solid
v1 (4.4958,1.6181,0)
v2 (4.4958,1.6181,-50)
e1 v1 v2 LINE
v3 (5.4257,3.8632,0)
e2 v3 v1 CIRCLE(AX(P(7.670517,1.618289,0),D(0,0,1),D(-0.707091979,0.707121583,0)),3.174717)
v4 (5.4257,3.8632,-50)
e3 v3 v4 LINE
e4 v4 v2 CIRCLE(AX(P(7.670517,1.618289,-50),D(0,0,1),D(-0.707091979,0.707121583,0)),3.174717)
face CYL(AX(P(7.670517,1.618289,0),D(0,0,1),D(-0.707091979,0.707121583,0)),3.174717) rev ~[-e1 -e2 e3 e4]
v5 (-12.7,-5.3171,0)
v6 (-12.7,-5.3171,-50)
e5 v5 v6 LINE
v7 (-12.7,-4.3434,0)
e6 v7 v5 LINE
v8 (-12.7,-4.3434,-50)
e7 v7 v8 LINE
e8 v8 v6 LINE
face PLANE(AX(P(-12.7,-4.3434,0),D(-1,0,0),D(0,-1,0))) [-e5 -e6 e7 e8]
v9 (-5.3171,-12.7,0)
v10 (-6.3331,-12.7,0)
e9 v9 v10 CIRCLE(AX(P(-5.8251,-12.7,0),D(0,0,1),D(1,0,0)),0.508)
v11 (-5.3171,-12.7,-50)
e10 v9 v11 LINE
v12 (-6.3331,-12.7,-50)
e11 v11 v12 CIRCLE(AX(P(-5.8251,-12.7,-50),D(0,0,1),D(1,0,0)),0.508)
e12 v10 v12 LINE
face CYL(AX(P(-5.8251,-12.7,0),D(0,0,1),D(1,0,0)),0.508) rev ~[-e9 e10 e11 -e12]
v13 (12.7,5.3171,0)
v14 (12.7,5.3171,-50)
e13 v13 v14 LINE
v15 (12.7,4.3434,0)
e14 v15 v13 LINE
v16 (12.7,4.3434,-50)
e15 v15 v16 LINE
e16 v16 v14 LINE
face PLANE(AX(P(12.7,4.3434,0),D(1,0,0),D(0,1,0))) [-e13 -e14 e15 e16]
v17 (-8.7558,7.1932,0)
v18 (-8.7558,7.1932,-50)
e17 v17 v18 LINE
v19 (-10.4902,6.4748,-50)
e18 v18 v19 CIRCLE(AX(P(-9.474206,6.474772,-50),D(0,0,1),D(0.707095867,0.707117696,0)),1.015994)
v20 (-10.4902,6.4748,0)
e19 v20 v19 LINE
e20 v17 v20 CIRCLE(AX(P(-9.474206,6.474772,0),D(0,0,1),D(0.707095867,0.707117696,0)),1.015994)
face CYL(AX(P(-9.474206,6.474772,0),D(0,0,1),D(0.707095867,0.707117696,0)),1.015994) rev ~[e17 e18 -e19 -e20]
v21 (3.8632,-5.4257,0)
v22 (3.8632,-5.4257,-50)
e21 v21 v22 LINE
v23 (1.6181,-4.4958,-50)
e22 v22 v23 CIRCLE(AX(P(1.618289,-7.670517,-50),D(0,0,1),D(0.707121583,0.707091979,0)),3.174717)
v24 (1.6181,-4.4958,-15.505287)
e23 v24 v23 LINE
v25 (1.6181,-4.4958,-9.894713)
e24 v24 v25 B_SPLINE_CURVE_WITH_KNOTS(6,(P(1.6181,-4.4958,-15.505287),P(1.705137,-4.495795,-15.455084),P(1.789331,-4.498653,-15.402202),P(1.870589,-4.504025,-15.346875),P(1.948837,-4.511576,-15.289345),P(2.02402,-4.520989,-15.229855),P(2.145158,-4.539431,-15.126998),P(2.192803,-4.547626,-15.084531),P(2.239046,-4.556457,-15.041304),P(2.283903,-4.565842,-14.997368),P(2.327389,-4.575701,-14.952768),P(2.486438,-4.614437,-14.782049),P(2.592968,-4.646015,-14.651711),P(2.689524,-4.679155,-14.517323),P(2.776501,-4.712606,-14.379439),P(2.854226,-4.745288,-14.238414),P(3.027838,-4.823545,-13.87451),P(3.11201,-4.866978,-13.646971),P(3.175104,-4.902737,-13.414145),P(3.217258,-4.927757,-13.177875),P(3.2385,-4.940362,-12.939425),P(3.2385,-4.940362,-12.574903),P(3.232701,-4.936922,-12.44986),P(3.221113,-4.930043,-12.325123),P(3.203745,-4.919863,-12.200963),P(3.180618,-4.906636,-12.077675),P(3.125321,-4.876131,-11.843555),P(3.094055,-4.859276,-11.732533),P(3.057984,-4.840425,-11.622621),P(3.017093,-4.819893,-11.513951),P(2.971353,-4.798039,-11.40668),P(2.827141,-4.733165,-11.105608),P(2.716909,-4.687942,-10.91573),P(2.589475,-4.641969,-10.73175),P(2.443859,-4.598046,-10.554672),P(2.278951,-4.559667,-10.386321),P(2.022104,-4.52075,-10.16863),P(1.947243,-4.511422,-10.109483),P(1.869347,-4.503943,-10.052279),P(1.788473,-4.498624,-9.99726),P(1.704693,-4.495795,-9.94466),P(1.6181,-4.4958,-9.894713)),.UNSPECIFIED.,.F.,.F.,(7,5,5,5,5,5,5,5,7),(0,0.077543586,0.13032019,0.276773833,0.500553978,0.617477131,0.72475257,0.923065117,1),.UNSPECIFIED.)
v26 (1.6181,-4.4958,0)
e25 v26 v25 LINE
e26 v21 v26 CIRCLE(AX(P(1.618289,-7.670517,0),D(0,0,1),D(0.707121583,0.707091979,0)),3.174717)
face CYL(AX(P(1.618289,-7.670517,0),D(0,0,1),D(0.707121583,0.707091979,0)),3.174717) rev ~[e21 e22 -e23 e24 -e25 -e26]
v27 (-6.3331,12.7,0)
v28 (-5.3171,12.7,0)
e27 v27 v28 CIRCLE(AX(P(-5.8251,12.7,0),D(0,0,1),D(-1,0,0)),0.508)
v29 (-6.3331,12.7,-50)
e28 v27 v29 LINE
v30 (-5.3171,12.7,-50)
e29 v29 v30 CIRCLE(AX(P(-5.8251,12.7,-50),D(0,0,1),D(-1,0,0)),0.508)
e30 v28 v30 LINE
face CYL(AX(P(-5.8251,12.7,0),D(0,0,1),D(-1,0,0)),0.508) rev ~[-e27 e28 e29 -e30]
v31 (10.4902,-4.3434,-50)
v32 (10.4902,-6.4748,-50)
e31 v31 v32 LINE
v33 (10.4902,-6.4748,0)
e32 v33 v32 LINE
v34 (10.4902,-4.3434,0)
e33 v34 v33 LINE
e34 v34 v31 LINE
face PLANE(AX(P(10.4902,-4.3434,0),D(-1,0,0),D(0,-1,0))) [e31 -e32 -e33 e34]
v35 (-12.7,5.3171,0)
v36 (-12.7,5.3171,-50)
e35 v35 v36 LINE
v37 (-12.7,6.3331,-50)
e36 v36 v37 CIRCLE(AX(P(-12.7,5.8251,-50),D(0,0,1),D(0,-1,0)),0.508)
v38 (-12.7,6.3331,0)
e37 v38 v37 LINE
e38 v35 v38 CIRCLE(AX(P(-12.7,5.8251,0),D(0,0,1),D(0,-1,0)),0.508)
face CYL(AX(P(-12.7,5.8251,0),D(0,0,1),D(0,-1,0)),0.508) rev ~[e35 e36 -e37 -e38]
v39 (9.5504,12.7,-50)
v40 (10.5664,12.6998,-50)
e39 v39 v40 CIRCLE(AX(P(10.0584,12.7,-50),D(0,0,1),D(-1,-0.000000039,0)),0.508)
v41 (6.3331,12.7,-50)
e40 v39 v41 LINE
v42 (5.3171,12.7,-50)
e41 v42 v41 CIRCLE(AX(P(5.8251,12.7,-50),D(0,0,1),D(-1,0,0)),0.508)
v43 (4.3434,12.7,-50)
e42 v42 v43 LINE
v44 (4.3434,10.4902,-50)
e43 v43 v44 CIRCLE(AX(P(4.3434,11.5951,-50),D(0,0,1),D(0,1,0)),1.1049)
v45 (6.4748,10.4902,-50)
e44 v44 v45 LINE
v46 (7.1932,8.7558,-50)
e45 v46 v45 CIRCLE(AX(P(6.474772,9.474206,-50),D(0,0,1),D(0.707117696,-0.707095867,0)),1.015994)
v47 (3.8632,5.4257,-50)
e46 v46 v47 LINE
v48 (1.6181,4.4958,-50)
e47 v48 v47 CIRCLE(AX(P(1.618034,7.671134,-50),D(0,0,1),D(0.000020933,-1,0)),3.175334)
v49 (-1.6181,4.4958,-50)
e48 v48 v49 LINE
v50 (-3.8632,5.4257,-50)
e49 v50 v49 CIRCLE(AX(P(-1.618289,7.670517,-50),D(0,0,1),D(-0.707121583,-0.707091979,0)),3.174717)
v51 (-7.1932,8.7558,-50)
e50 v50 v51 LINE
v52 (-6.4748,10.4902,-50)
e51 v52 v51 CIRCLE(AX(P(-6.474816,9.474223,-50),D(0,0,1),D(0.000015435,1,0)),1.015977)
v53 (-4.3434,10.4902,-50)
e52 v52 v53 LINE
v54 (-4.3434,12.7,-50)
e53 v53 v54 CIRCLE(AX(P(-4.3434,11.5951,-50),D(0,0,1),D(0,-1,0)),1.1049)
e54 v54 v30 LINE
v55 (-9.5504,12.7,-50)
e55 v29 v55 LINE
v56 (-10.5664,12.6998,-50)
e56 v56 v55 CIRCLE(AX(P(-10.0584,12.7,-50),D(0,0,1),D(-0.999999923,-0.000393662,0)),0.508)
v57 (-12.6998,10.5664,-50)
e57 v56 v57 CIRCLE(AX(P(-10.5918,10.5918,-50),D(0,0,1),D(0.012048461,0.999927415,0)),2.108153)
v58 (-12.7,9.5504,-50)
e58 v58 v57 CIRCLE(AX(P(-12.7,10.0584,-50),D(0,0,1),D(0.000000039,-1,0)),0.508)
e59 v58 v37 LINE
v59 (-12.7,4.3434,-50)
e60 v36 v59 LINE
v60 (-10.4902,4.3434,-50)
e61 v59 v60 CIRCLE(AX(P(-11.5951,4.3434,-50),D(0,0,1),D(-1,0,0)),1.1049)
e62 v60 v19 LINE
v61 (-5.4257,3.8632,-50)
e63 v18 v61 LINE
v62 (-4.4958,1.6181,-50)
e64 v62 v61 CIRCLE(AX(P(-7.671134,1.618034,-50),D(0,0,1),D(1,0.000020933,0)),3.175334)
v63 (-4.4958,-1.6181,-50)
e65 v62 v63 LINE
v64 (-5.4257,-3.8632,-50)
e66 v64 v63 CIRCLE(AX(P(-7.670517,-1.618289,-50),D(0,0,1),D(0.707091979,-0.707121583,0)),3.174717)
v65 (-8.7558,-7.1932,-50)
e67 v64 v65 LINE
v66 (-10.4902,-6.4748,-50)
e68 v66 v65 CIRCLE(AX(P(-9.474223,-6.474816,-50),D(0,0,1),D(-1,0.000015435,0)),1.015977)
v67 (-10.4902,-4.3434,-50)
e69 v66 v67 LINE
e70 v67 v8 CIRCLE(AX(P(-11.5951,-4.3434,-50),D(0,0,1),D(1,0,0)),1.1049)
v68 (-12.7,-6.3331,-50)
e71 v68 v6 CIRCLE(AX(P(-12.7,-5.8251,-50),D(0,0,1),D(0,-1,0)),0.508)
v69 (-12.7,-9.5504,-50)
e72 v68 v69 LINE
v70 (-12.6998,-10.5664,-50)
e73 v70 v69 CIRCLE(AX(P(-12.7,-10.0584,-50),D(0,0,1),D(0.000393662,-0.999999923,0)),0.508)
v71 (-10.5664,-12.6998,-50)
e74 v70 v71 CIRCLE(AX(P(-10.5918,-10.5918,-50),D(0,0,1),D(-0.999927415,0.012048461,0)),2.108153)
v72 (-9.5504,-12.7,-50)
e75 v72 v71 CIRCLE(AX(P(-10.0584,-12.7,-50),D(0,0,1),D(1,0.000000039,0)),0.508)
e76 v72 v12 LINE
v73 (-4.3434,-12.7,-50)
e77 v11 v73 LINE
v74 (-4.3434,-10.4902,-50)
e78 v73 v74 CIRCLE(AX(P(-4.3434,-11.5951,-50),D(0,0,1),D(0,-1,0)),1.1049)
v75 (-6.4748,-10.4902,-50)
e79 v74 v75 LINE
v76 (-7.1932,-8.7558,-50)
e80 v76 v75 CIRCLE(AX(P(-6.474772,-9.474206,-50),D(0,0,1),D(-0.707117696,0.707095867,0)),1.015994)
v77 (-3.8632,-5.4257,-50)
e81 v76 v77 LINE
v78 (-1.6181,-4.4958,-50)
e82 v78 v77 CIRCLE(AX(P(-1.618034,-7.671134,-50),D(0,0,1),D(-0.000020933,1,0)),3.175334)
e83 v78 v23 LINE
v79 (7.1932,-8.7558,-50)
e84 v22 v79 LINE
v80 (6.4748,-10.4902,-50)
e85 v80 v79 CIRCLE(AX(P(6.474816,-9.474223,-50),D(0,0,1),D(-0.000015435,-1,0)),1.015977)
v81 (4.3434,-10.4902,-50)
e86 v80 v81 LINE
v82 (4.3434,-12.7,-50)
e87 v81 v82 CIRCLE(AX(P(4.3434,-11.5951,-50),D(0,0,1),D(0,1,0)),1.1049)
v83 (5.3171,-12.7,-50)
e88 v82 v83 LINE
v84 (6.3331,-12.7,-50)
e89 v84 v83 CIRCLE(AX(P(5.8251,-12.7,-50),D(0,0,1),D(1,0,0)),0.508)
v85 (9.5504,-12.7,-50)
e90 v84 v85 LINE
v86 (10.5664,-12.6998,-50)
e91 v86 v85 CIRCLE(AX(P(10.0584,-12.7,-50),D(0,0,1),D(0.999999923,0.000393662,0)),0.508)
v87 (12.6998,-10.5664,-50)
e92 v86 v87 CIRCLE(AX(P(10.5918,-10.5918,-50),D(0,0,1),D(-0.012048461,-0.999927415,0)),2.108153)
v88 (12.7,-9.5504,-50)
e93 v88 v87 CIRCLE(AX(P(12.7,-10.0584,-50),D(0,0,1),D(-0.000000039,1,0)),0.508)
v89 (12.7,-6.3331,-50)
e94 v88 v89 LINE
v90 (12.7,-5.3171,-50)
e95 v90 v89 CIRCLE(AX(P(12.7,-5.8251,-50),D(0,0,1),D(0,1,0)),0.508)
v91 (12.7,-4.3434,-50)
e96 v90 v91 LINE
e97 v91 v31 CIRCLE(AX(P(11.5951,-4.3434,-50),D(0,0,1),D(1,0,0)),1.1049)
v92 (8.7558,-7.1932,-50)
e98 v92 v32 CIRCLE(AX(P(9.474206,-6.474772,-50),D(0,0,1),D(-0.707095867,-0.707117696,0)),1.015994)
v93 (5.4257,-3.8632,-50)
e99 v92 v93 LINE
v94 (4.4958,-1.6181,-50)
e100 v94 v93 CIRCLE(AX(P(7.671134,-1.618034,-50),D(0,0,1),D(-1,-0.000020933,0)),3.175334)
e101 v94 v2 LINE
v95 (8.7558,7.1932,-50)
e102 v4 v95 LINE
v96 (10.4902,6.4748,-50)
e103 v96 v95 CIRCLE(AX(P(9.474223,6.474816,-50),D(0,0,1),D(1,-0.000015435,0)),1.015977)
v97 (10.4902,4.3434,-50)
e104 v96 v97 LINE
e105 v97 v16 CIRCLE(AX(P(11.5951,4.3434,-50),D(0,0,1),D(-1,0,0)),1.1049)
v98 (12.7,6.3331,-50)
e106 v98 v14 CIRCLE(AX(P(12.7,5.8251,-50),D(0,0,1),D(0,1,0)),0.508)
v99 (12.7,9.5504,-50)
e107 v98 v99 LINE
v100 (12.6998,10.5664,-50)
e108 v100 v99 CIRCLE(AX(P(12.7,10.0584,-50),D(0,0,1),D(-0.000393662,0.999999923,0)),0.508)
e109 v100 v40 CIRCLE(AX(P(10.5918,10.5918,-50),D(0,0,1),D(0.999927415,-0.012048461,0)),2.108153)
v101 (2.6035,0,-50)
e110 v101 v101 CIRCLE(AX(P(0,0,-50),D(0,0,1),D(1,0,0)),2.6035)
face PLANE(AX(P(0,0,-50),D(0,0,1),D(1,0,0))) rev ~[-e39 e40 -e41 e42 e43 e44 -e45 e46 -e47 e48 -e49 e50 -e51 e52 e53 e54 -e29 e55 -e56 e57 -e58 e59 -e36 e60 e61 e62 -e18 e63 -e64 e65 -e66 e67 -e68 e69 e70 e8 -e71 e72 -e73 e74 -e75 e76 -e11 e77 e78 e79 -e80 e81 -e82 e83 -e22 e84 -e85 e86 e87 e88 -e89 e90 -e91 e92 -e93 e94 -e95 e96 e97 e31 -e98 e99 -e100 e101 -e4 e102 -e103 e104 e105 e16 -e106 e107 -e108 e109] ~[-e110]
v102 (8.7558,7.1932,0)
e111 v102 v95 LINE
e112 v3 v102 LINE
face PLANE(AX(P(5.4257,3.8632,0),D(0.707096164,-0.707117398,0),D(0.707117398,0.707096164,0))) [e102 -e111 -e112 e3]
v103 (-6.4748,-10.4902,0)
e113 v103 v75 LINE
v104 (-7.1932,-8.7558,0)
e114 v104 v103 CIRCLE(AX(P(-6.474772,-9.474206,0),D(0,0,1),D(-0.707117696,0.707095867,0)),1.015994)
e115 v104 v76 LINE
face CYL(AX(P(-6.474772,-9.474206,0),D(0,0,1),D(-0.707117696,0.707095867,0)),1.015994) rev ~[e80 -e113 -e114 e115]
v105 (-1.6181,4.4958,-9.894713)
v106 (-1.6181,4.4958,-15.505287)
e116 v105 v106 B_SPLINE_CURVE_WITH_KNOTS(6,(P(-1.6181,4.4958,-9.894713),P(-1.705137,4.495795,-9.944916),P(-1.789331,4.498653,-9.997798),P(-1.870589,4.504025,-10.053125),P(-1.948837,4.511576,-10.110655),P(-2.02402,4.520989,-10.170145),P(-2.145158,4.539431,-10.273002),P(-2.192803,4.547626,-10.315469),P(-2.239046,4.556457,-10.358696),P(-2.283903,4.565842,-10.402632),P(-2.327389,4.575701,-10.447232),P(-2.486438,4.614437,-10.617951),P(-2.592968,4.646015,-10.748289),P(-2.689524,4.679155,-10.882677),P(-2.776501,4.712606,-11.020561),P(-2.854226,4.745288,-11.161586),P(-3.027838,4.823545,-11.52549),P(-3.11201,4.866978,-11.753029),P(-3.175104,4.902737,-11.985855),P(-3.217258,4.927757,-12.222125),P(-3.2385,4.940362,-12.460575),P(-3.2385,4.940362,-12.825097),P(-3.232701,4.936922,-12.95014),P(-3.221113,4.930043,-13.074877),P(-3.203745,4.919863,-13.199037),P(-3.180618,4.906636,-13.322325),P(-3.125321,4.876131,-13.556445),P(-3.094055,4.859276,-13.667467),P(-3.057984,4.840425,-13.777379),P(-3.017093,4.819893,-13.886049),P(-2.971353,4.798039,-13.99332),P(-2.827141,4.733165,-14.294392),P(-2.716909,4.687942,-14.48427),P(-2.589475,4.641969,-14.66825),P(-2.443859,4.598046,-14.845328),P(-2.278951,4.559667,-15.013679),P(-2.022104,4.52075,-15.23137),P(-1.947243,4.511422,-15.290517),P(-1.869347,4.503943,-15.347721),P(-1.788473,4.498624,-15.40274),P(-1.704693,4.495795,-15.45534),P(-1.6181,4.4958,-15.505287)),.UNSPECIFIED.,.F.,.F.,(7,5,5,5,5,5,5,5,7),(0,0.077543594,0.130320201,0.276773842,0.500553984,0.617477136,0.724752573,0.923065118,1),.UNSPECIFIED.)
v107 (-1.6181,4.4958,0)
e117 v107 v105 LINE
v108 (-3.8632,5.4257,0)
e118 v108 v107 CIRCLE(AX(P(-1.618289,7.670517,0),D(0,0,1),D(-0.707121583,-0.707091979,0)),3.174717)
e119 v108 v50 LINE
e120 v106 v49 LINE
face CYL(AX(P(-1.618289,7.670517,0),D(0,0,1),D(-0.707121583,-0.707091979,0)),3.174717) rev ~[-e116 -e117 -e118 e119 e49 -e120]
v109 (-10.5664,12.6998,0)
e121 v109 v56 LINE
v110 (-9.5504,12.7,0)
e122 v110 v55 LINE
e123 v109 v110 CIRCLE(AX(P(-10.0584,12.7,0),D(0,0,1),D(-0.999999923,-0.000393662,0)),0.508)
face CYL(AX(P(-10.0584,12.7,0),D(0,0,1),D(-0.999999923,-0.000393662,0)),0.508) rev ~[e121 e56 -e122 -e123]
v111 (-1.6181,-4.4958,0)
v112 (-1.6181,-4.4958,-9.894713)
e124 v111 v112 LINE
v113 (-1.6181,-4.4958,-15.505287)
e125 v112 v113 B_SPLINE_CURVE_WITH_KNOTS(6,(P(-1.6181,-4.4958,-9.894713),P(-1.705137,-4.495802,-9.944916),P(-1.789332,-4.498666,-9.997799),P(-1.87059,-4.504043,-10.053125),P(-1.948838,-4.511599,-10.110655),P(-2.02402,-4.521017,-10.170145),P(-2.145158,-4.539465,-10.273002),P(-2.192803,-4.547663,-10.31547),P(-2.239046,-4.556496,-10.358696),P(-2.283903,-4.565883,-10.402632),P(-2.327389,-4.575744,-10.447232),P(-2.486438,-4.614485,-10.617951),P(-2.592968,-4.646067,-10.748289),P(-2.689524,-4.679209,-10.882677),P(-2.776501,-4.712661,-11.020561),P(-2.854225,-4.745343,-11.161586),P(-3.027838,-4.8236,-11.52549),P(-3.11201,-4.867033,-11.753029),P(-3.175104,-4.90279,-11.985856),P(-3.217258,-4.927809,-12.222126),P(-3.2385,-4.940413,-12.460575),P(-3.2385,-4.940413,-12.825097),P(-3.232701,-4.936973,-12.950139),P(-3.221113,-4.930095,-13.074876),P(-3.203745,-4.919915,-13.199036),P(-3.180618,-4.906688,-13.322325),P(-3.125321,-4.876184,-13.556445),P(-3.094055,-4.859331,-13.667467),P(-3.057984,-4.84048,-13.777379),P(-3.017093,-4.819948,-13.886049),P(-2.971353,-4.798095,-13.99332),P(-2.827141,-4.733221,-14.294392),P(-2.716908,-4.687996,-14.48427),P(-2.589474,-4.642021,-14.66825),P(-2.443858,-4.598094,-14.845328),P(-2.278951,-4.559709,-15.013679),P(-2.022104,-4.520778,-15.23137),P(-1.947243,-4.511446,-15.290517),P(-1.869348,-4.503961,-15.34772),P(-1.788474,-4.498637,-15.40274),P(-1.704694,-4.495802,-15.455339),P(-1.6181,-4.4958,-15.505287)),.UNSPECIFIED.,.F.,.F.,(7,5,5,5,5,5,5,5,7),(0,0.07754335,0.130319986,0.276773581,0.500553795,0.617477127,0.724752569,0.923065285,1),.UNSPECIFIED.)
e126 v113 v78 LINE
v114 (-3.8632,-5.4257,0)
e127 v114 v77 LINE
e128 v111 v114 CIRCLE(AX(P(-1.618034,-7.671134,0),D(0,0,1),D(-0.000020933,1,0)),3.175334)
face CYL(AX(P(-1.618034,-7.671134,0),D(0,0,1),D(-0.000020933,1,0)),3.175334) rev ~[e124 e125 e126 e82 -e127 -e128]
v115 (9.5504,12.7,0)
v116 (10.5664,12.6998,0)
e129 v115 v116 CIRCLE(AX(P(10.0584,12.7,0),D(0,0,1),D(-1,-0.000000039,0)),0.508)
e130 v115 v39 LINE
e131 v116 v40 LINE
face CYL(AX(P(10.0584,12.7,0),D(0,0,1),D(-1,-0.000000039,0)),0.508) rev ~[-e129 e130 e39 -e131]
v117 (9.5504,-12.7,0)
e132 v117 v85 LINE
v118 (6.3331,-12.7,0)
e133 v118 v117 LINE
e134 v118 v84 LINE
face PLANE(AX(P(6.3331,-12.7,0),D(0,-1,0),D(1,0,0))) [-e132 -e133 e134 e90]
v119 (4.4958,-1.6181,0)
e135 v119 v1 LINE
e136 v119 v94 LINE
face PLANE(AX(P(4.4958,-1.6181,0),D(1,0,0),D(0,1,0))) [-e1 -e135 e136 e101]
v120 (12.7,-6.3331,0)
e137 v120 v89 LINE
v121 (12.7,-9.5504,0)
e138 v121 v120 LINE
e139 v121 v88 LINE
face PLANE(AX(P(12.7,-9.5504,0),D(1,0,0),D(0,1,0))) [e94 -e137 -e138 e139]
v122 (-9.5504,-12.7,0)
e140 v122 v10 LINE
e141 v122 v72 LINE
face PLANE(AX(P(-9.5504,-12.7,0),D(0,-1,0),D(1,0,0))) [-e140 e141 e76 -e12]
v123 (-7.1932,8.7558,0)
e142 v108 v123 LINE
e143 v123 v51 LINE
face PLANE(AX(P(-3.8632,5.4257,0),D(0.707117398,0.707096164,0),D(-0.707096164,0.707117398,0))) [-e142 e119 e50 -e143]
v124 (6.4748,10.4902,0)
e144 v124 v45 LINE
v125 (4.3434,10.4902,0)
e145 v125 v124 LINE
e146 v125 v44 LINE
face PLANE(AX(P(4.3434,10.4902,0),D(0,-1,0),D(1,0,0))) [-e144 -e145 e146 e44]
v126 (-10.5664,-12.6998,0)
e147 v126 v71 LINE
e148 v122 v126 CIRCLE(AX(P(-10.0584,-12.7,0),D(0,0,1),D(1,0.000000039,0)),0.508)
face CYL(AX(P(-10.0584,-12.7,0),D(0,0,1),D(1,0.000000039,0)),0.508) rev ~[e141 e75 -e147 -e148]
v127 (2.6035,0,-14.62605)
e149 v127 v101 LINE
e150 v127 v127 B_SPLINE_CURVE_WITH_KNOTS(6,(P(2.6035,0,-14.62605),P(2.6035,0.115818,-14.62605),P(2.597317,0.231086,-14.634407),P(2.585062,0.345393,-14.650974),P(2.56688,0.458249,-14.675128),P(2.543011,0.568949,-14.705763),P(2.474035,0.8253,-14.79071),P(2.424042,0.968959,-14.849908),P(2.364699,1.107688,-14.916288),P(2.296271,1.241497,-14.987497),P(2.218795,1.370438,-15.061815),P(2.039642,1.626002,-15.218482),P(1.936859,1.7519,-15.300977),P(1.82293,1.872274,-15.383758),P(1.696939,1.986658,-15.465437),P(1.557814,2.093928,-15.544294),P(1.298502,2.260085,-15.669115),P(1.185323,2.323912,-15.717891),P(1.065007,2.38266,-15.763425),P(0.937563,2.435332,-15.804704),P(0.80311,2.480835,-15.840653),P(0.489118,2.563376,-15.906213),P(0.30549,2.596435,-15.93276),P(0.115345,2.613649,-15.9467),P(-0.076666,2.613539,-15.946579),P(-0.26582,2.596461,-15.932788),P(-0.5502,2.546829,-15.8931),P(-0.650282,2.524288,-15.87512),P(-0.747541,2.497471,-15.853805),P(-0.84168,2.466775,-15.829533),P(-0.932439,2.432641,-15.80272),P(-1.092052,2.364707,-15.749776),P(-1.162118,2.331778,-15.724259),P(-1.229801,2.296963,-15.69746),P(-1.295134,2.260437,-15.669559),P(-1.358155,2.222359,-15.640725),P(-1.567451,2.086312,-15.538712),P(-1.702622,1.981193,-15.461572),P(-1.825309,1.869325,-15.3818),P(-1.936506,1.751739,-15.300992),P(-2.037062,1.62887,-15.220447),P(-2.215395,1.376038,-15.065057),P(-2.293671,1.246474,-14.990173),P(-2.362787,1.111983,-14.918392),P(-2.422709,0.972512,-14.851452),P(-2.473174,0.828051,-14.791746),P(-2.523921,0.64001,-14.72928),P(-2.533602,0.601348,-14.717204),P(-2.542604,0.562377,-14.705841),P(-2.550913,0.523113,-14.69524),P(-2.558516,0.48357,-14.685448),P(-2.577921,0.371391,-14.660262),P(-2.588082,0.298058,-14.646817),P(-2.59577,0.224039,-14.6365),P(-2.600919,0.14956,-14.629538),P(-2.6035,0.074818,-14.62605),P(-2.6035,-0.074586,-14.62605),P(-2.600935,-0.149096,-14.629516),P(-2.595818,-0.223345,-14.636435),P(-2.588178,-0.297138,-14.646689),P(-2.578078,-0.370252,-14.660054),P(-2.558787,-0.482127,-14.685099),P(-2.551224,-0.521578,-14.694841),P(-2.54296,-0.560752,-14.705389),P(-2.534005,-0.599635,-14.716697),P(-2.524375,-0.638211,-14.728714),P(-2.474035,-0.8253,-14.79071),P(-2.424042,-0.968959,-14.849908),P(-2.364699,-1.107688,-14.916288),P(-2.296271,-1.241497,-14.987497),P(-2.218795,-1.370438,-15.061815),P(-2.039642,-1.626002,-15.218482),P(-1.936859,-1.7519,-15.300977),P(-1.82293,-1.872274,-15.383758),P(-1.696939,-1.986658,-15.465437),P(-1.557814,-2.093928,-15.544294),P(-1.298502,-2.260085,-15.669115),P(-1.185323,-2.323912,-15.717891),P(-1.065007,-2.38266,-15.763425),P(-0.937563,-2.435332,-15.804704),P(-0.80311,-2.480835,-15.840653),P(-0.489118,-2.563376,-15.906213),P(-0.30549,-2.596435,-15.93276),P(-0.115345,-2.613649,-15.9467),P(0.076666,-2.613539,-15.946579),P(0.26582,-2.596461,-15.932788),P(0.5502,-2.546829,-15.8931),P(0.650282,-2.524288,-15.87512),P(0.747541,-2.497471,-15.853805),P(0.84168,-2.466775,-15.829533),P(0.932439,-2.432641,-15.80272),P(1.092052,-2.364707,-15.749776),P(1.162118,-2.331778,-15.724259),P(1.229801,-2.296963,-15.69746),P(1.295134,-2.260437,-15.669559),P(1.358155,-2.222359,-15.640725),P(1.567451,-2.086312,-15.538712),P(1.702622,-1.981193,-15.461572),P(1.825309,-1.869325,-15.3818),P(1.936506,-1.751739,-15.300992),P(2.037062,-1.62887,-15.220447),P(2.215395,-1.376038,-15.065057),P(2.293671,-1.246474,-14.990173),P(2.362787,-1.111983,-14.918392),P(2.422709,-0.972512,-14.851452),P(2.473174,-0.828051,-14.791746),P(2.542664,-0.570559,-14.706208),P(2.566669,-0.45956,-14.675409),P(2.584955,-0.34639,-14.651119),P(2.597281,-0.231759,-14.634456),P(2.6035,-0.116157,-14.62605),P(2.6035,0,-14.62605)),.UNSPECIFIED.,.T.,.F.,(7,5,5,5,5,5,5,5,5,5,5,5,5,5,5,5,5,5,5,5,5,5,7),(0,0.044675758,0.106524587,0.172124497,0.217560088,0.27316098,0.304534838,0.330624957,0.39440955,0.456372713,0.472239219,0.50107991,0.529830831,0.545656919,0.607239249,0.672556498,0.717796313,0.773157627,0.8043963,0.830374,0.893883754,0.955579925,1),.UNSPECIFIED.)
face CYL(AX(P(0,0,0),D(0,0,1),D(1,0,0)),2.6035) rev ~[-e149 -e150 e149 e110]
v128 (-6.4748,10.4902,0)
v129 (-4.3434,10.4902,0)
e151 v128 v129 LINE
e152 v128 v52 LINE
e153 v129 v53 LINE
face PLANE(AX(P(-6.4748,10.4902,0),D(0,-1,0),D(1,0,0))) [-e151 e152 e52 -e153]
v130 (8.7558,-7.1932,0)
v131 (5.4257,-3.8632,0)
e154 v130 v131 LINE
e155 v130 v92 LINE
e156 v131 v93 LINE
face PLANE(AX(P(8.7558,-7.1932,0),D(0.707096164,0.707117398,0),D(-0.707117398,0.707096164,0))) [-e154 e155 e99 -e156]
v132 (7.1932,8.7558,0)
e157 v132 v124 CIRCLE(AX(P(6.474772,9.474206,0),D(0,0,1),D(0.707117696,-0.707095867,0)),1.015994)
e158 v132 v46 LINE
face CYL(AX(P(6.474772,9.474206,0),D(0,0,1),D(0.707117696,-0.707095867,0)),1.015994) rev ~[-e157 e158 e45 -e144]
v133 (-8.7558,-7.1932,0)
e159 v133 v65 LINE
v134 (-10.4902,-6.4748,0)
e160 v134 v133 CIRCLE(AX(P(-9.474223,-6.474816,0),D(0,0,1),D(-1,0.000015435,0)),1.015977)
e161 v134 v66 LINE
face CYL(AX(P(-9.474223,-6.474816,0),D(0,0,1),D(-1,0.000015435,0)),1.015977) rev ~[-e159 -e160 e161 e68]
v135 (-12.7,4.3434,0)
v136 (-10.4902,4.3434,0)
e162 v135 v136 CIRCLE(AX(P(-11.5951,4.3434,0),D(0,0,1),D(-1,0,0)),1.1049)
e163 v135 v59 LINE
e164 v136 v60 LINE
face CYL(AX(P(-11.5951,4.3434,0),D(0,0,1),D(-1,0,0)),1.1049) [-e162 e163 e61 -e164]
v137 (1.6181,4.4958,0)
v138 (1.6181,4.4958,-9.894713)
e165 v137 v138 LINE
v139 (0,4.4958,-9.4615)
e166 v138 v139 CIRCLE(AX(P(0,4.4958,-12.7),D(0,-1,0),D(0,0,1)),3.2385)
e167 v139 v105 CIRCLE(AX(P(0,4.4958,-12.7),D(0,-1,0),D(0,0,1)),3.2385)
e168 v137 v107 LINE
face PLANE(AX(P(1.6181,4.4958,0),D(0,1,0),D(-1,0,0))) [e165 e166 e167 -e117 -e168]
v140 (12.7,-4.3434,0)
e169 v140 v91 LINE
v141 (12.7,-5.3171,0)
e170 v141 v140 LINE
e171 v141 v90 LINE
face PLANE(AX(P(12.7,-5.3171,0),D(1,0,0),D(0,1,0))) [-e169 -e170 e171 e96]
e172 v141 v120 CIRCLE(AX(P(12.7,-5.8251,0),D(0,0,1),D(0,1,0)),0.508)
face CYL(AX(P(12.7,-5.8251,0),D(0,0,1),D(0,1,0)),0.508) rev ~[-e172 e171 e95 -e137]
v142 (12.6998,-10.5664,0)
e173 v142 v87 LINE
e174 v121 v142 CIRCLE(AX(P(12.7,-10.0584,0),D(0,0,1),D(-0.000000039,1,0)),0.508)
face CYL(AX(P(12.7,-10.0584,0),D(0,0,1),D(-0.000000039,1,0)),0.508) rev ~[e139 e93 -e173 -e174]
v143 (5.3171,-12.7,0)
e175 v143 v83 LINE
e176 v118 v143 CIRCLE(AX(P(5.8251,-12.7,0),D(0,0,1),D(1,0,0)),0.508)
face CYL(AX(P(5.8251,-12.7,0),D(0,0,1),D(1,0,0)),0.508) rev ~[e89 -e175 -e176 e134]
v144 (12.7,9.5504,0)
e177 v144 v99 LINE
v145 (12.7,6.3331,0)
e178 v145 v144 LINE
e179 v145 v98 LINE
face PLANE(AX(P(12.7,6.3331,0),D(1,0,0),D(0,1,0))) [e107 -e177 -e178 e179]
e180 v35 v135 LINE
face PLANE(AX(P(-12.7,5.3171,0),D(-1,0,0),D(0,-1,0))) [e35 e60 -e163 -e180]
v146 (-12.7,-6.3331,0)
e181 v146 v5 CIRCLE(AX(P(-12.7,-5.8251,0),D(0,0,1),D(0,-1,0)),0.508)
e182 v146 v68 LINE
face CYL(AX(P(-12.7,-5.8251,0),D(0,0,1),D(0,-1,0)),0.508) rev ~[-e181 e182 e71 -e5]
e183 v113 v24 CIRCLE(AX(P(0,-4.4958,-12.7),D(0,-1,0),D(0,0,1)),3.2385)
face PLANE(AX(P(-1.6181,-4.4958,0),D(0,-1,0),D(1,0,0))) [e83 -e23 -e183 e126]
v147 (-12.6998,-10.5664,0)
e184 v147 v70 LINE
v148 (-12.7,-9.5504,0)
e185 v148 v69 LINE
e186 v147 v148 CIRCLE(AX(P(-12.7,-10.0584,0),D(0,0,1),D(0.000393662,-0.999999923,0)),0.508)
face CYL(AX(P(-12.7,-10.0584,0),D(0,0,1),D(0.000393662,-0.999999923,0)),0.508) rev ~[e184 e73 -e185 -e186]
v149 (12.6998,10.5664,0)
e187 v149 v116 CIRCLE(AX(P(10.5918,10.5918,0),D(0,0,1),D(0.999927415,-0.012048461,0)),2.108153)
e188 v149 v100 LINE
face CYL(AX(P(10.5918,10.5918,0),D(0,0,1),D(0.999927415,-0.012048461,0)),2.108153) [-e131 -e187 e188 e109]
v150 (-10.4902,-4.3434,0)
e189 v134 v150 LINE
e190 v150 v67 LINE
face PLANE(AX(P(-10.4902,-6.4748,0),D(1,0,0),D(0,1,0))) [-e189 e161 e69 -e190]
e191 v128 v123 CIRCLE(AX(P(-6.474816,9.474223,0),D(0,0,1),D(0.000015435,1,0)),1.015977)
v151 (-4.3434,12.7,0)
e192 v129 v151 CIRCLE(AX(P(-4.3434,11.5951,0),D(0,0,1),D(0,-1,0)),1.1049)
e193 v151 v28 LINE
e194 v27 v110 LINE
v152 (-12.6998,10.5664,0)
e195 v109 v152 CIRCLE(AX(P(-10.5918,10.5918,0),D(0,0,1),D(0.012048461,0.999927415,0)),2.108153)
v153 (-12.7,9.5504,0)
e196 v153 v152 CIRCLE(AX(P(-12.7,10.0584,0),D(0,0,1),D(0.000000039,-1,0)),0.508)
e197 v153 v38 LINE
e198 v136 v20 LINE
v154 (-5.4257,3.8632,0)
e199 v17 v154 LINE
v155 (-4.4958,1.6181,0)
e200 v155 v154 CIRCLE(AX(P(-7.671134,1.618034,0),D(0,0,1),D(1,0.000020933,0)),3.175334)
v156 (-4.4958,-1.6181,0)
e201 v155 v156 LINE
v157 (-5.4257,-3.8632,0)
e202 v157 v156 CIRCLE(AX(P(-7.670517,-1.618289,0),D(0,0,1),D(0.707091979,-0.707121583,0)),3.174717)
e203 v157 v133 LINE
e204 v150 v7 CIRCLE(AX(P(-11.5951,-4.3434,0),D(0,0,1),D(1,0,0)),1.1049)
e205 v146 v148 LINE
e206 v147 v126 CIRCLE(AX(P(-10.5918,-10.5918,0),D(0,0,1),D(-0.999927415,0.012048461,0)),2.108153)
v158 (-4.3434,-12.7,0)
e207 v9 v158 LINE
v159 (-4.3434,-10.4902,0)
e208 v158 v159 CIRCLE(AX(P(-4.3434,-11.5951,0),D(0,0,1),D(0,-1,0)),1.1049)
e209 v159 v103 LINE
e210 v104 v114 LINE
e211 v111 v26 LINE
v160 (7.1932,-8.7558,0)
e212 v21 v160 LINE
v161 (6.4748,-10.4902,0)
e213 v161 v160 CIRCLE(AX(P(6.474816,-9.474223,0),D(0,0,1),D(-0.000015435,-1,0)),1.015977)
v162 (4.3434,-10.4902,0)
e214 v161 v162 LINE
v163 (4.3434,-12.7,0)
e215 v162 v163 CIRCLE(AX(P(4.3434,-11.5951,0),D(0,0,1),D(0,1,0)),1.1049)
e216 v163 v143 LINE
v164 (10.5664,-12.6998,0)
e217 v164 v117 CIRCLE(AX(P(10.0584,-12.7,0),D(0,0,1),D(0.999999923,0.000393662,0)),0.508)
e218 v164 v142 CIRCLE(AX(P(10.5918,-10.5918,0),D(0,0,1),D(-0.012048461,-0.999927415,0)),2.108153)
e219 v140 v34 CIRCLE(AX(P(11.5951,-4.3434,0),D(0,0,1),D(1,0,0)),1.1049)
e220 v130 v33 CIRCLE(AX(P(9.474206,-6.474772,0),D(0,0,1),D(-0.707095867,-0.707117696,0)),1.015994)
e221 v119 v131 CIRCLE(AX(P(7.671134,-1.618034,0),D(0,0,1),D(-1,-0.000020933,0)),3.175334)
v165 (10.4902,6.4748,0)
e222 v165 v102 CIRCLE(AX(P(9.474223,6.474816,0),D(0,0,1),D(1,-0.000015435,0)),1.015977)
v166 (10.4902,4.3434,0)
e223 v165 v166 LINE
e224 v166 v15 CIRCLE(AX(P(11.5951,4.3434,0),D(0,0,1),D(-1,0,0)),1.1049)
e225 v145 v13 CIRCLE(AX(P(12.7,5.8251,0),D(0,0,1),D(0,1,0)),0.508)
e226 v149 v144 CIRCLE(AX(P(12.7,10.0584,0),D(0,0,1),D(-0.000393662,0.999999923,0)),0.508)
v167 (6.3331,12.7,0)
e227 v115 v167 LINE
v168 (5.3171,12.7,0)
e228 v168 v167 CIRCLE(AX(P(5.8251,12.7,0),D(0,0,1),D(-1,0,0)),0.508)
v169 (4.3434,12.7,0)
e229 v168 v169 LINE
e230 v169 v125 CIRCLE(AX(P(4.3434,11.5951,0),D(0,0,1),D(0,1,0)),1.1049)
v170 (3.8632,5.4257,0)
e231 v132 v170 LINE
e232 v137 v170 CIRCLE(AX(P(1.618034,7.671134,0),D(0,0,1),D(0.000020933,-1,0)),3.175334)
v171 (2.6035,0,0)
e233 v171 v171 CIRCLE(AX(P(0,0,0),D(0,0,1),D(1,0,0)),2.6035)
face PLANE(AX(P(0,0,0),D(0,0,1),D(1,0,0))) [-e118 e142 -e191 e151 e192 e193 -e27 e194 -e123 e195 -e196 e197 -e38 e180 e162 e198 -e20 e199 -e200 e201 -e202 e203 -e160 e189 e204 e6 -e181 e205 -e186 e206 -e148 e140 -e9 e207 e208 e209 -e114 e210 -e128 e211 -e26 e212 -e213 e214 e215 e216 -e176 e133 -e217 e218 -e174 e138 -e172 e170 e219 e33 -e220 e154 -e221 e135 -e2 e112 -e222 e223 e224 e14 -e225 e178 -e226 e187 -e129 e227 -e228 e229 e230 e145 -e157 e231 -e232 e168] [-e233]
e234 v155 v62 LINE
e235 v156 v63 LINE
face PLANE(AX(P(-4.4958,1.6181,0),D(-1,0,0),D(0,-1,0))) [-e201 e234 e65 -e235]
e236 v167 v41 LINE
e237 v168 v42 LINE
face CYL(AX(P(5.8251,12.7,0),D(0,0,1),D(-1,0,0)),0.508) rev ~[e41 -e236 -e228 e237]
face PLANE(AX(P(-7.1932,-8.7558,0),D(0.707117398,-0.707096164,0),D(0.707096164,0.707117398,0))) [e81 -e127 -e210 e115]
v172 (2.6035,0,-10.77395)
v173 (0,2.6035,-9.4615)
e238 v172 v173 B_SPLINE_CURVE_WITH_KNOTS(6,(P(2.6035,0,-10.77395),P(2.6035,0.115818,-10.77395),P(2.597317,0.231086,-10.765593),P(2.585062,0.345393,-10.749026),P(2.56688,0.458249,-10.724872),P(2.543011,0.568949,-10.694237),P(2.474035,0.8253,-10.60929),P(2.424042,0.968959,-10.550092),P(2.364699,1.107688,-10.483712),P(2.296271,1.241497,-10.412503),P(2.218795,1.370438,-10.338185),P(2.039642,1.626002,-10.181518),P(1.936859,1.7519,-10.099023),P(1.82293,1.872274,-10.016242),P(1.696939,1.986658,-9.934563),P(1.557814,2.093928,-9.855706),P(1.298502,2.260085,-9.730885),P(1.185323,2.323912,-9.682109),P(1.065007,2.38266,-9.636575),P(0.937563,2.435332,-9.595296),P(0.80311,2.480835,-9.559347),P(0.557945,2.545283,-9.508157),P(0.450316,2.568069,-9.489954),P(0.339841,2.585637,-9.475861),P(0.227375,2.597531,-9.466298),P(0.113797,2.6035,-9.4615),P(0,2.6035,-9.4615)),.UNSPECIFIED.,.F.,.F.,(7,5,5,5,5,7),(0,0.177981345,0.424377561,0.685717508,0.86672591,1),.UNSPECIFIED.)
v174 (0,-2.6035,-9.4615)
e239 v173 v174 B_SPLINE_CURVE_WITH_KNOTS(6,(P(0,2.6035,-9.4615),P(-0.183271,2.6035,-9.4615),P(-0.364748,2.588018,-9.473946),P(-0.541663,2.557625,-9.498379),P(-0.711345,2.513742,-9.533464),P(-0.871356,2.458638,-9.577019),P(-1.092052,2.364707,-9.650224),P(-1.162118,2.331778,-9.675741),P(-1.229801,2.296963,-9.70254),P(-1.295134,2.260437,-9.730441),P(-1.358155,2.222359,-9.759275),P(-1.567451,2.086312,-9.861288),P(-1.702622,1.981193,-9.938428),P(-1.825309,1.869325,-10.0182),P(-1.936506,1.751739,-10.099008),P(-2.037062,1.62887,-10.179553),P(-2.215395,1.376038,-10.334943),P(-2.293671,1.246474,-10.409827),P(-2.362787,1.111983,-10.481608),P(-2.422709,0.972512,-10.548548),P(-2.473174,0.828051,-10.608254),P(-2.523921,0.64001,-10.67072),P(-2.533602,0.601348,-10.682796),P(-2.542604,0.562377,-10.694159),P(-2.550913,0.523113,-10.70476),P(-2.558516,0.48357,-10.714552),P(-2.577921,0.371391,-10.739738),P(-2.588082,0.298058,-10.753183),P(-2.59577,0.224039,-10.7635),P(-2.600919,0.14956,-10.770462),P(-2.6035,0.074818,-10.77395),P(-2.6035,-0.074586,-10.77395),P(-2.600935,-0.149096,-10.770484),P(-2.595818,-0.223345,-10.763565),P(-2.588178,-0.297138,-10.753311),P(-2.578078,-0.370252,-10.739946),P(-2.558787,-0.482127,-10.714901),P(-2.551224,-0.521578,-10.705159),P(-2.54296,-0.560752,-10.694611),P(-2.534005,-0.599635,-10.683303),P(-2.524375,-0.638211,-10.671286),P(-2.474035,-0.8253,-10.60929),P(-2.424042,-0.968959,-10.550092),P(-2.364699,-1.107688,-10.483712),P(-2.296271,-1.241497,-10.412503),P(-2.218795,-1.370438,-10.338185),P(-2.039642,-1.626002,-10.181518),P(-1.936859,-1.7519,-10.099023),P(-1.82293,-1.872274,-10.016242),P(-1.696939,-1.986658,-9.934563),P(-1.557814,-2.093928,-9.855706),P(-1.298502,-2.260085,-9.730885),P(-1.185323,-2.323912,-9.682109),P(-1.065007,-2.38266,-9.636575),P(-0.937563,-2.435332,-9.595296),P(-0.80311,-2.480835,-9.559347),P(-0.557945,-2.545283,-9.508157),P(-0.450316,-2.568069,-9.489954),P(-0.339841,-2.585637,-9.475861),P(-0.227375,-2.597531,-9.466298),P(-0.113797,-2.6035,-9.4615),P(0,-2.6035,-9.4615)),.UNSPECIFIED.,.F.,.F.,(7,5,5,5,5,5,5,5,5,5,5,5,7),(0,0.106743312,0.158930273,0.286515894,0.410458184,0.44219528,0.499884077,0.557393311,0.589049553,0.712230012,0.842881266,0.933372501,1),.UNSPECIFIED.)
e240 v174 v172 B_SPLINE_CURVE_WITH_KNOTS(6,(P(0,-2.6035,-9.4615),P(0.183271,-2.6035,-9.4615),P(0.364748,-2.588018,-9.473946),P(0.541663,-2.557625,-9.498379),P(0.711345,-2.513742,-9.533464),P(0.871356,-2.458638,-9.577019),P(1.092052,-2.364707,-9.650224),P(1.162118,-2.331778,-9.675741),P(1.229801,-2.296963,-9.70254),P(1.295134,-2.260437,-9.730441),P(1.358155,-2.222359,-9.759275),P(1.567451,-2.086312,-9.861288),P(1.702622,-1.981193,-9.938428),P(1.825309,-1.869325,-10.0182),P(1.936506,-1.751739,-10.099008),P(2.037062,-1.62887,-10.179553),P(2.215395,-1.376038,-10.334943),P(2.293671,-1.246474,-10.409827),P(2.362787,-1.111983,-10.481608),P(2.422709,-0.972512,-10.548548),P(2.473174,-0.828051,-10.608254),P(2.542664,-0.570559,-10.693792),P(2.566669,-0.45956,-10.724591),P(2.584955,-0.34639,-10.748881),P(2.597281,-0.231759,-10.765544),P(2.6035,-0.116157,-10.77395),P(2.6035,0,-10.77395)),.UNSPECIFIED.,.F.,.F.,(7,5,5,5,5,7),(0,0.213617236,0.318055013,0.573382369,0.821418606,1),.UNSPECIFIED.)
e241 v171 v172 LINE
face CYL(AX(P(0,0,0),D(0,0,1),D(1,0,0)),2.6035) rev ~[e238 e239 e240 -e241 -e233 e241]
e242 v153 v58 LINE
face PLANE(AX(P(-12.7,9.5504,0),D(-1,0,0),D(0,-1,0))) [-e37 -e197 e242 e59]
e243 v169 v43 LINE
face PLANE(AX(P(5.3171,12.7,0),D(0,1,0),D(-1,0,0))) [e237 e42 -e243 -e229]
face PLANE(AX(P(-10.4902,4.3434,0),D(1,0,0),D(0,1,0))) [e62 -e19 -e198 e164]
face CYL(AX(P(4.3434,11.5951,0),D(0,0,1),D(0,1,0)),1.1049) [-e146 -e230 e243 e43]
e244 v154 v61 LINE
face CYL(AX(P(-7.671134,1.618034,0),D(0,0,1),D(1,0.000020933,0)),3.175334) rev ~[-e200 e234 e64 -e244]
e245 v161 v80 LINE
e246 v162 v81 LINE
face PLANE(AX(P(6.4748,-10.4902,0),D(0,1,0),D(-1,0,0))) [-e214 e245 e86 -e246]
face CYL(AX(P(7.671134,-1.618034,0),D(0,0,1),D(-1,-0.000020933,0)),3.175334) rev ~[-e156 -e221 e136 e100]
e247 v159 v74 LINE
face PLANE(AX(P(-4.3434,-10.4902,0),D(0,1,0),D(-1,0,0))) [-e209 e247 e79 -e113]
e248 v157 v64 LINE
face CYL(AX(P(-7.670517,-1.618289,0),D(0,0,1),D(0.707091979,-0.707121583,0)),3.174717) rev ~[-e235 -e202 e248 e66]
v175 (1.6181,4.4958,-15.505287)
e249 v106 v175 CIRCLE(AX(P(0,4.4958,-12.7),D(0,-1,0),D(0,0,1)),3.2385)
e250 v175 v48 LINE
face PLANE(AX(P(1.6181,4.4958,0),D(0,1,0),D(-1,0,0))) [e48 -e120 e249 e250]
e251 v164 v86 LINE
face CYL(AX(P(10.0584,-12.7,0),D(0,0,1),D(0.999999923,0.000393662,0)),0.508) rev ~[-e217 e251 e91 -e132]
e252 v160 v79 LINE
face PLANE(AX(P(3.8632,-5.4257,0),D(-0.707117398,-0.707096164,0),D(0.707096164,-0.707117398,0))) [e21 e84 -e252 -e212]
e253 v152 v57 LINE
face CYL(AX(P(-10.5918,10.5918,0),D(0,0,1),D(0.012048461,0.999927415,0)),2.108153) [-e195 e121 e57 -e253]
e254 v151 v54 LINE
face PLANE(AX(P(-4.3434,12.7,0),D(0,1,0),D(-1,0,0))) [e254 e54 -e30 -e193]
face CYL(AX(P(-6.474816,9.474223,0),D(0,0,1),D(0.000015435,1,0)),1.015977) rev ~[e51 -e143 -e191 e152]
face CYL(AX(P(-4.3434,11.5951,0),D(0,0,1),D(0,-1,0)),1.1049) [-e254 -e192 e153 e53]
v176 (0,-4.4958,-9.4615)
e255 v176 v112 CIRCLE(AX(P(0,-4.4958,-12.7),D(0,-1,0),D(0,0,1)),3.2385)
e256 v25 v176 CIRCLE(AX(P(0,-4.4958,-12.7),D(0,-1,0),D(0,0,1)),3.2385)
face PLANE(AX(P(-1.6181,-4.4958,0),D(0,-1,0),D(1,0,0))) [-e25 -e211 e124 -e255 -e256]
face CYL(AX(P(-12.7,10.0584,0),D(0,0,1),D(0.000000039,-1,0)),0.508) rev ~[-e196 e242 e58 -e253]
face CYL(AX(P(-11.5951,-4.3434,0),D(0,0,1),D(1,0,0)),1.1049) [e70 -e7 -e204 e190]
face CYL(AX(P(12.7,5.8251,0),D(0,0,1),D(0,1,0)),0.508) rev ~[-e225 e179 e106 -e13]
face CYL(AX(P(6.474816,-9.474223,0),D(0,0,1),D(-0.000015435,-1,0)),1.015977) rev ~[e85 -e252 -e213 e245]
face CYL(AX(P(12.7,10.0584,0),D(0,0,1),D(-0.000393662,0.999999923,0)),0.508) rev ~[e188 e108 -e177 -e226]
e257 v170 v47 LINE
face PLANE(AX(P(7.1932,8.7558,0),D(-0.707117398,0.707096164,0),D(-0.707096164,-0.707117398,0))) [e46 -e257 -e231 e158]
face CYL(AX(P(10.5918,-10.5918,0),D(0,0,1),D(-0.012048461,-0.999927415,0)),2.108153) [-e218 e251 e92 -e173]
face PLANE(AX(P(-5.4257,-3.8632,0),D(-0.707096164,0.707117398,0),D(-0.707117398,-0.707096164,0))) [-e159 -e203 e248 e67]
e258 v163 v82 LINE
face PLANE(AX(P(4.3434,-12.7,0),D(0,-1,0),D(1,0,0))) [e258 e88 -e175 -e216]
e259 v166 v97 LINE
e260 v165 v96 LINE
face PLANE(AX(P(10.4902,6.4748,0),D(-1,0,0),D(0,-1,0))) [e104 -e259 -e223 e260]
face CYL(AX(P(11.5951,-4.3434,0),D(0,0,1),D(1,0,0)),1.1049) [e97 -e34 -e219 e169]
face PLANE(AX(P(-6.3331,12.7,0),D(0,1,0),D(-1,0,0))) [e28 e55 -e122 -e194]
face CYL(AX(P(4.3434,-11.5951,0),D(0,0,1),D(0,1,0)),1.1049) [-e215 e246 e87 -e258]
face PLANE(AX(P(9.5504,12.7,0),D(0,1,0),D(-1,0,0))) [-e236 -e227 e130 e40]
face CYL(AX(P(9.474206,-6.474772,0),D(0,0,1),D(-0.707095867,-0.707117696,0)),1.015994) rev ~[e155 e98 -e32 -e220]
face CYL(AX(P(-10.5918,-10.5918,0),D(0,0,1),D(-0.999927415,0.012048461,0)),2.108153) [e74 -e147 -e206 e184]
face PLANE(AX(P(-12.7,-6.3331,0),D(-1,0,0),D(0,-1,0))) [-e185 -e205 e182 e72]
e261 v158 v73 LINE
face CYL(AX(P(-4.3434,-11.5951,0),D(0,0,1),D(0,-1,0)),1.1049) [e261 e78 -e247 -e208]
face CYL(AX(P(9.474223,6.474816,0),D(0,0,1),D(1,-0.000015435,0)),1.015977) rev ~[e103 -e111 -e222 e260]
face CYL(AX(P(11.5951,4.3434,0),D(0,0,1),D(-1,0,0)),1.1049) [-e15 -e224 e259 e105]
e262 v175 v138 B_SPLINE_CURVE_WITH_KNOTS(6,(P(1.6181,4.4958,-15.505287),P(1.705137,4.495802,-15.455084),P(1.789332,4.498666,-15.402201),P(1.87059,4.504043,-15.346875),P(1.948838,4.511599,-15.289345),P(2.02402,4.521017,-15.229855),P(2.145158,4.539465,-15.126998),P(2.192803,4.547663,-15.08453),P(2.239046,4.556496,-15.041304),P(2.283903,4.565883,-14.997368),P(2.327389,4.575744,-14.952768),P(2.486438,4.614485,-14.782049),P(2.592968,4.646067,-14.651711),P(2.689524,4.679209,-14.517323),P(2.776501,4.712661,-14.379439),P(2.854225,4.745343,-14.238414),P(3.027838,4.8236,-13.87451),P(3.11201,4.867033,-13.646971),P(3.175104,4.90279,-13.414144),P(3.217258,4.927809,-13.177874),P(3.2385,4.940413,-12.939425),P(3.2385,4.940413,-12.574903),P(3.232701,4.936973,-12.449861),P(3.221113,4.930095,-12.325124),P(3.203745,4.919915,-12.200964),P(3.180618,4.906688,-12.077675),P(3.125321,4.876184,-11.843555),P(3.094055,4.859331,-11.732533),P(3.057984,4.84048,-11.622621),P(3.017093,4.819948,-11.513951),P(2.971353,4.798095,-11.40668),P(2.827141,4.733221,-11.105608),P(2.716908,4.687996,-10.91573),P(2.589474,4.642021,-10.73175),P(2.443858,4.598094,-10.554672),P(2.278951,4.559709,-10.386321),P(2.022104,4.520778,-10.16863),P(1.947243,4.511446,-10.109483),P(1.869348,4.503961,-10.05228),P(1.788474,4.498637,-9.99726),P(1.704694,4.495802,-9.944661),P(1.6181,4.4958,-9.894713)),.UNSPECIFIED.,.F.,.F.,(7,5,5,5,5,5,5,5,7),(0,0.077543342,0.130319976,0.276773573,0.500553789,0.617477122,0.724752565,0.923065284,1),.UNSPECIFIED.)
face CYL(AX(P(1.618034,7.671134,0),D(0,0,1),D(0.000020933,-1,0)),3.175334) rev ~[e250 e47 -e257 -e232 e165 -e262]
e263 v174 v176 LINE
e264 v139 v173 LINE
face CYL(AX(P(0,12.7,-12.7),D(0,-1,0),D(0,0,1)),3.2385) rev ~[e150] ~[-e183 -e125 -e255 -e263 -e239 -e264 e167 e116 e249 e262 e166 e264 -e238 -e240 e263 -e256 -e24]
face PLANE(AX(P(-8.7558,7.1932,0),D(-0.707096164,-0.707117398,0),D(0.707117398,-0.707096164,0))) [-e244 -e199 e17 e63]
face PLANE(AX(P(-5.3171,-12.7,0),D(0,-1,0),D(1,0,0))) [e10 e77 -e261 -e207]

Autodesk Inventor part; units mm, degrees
ref_plane "YZ Plane" through (0, 0, 0) normal (1, 0, 0) x (0, 1, 0)
ref_plane "XZ Plane" through (0, 0, 0) normal (0, 1, 0) x (-1, 0, 0)
ref_plane "XY Plane" through (0, 0, 0) normal (0, 0, 1) x (1, 0, 0)
sketch "Sketch_1" plane through (0, 0, 0) normal (0, 0, 1) x (1, 0, 0)
  arc A0 (-12.6998, -10.5664) -> (-10.5664, -12.6998) centre (-10.5918, -10.5918) ccw
  arc A1 (-9.5504, -12.7) -> (-10.5664, -12.6998) centre (-10.0584, -12.7) ccw
  line L0 (-9.5504, -12.7) -> (-6.3331, -12.7)
  arc A2 (-5.3171, -12.7) -> (-6.3331, -12.7) centre (-5.8251, -12.7) ccw
  line L1 (-5.3171, -12.7) -> (-4.3434, -12.7)
  arc A3 (-4.3434, -12.7) -> (-4.3434, -10.4902) centre (-4.3434, -11.5951) ccw
  line L2 (-4.3434, -10.4902) -> (-6.4748, -10.4902)
  arc A4 (-7.1932, -8.7558) -> (-6.4748, -10.4902) centre (-6.4748, -9.4742) ccw
  line L3 (-7.1932, -8.7558) -> (-3.8632, -5.4257)
  arc A5 (-1.6181, -4.4958) -> (-3.8632, -5.4257) centre (-1.6181, -7.6708) ccw
  line L4 (-1.6181, -4.4958) -> (1.6181, -4.4958)
  arc A6 (3.8632, -5.4257) -> (1.6181, -4.4958) centre (1.6181, -7.6708) ccw
  line L5 (3.8632, -5.4257) -> (7.1932, -8.7558)
  arc A7 (6.4748, -10.4902) -> (7.1932, -8.7558) centre (6.4748, -9.4742) ccw
  line L6 (6.4748, -10.4902) -> (4.3434, -10.4902)
  arc A8 (4.3434, -10.4902) -> (4.3434, -12.7) centre (4.3434, -11.5951) ccw
  line L7 (4.3434, -12.7) -> (5.3171, -12.7)
  arc A9 (6.3331, -12.7) -> (5.3171, -12.7) centre (5.8251, -12.7) ccw
  line L8 (6.3331, -12.7) -> (9.5504, -12.7)
  arc A10 (10.5664, -12.6998) -> (9.5504, -12.7) centre (10.0584, -12.7) ccw
  arc A11 (10.5664, -12.6998) -> (12.6998, -10.5664) centre (10.5918, -10.5918) ccw
  arc A12 (12.7, -9.5504) -> (12.6998, -10.5664) centre (12.7, -10.0584) ccw
  line L9 (12.7, -9.5504) -> (12.7, -6.3331)
  arc A13 (12.7, -5.3171) -> (12.7, -6.3331) centre (12.7, -5.8251) ccw
  line L10 (12.7, -5.3171) -> (12.7, -4.3434)
  arc A14 (12.7, -4.3434) -> (10.4902, -4.3434) centre (11.5951, -4.3434) ccw
  line L11 (10.4902, -4.3434) -> (10.4902, -6.4748)
  arc A15 (8.7558, -7.1932) -> (10.4902, -6.4748) centre (9.4742, -6.4748) ccw
  line L12 (8.7558, -7.1932) -> (5.4257, -3.8632)
  arc A16 (4.4958, -1.6181) -> (5.4257, -3.8632) centre (7.6708, -1.6181) ccw
  line L13 (4.4958, -1.6181) -> (4.4958, 1.6181)
  arc A17 (5.4257, 3.8632) -> (4.4958, 1.6181) centre (7.6708, 1.6181) ccw
  line L14 (5.4257, 3.8632) -> (8.7558, 7.1932)
  arc A18 (10.4902, 6.4748) -> (8.7558, 7.1932) centre (9.4742, 6.4748) ccw
  line L15 (10.4902, 6.4748) -> (10.4902, 4.3434)
  arc A19 (10.4902, 4.3434) -> (12.7, 4.3434) centre (11.5951, 4.3434) ccw
  line L16 (12.7, 4.3434) -> (12.7, 5.3171)
  arc A20 (12.7, 6.3331) -> (12.7, 5.3171) centre (12.7, 5.8251) ccw
  line L17 (12.7, 6.3331) -> (12.7, 9.5504)
  arc A21 (12.6998, 10.5664) -> (12.7, 9.5504) centre (12.7, 10.0584) ccw
  arc A22 (12.6998, 10.5664) -> (10.5664, 12.6998) centre (10.5918, 10.5918) ccw
  arc A23 (9.5504, 12.7) -> (10.5664, 12.6998) centre (10.0584, 12.7) ccw
  line L18 (9.5504, 12.7) -> (6.3331, 12.7)
  arc A24 (5.3171, 12.7) -> (6.3331, 12.7) centre (5.8251, 12.7) ccw
  line L19 (5.3171, 12.7) -> (4.3434, 12.7)
  arc A25 (4.3434, 12.7) -> (4.3434, 10.4902) centre (4.3434, 11.5951) ccw
  line L20 (4.3434, 10.4902) -> (6.4748, 10.4902)
  arc A26 (7.1932, 8.7558) -> (6.4748, 10.4902) centre (6.4748, 9.4742) ccw
  line L21 (7.1932, 8.7558) -> (3.8632, 5.4257)
  arc A27 (1.6181, 4.4958) -> (3.8632, 5.4257) centre (1.6181, 7.6708) ccw
  line L22 (1.6181, 4.4958) -> (-1.6181, 4.4958)
  arc A28 (-3.8632, 5.4257) -> (-1.6181, 4.4958) centre (-1.6181, 7.6708) ccw
  line L23 (-3.8632, 5.4257) -> (-7.1932, 8.7558)
  arc A29 (-6.4748, 10.4902) -> (-7.1932, 8.7558) centre (-6.4748, 9.4742) ccw
  line L24 (-6.4748, 10.4902) -> (-4.3434, 10.4902)
  arc A30 (-4.3434, 10.4902) -> (-4.3434, 12.7) centre (-4.3434, 11.5951) ccw
  line L25 (-4.3434, 12.7) -> (-5.3171, 12.7)
  arc A31 (-6.3331, 12.7) -> (-5.3171, 12.7) centre (-5.8251, 12.7) ccw
  line L26 (-6.3331, 12.7) -> (-9.5504, 12.7)
  arc A32 (-10.5664, 12.6998) -> (-9.5504, 12.7) centre (-10.0584, 12.7) ccw
  arc A33 (-10.5664, 12.6998) -> (-12.6998, 10.5664) centre (-10.5918, 10.5918) ccw
  arc A34 (-12.7, 9.5504) -> (-12.6998, 10.5664) centre (-12.7, 10.0584) ccw
  line L27 (-12.7, 9.5504) -> (-12.7, 6.3331)
  arc A35 (-12.7, 5.3171) -> (-12.7, 6.3331) centre (-12.7, 5.8251) ccw
  line L28 (-12.7, 5.3171) -> (-12.7, 4.3434)
  arc A36 (-12.7, 4.3434) -> (-10.4902, 4.3434) centre (-11.5951, 4.3434) ccw
  line L29 (-10.4902, 4.3434) -> (-10.4902, 6.4748)
  arc A37 (-8.7558, 7.1932) -> (-10.4902, 6.4748) centre (-9.4742, 6.4748) ccw
  line L30 (-8.7558, 7.1932) -> (-5.4257, 3.8632)
  arc A38 (-4.4958, 1.6181) -> (-5.4257, 3.8632) centre (-7.6708, 1.6181) ccw
  line L31 (-4.4958, 1.6181) -> (-4.4958, -1.6181)
  arc A39 (-5.4257, -3.8632) -> (-4.4958, -1.6181) centre (-7.6708, -1.6181) ccw
  line L32 (-5.4257, -3.8632) -> (-8.7558, -7.1932)
  arc A40 (-10.4902, -6.4748) -> (-8.7558, -7.1932) centre (-9.4742, -6.4748) ccw
  line L33 (-10.4902, -6.4748) -> (-10.4902, -4.3434)
  arc A41 (-10.4902, -4.3434) -> (-12.7, -4.3434) centre (-11.5951, -4.3434) ccw
  line L34 (-12.7, -4.3434) -> (-12.7, -5.3171)
  arc A42 (-12.7, -6.3331) -> (-12.7, -5.3171) centre (-12.7, -5.8251) ccw
  line L35 (-12.7, -6.3331) -> (-12.7, -9.5504)
  arc A43 (-12.6998, -10.5664) -> (-12.7, -9.5504) centre (-12.7, -10.0584) ccw
  circle A44 centre (0, 0) radius 2.6035
extrude "Extrusion1" add sketch "Sketch_1" against normal blind 50
sketch "Sketch5" plane through (6.3331, 12.7, 0) normal (0, 1, 0) x (1, 0, 0)
  line L0 (-4.715, 50) -> (-7.9512, 50) construction
  point P0 (-6.3331, 0)
  point P1 (-6.3331, 12.7)
  dimension "d41" = 12.7
hole "Hole4" at (0, 12.7, -12.7) direction (0, -1, 0) diameter 6.477 end through all
properties part number "1010-15-CL"
